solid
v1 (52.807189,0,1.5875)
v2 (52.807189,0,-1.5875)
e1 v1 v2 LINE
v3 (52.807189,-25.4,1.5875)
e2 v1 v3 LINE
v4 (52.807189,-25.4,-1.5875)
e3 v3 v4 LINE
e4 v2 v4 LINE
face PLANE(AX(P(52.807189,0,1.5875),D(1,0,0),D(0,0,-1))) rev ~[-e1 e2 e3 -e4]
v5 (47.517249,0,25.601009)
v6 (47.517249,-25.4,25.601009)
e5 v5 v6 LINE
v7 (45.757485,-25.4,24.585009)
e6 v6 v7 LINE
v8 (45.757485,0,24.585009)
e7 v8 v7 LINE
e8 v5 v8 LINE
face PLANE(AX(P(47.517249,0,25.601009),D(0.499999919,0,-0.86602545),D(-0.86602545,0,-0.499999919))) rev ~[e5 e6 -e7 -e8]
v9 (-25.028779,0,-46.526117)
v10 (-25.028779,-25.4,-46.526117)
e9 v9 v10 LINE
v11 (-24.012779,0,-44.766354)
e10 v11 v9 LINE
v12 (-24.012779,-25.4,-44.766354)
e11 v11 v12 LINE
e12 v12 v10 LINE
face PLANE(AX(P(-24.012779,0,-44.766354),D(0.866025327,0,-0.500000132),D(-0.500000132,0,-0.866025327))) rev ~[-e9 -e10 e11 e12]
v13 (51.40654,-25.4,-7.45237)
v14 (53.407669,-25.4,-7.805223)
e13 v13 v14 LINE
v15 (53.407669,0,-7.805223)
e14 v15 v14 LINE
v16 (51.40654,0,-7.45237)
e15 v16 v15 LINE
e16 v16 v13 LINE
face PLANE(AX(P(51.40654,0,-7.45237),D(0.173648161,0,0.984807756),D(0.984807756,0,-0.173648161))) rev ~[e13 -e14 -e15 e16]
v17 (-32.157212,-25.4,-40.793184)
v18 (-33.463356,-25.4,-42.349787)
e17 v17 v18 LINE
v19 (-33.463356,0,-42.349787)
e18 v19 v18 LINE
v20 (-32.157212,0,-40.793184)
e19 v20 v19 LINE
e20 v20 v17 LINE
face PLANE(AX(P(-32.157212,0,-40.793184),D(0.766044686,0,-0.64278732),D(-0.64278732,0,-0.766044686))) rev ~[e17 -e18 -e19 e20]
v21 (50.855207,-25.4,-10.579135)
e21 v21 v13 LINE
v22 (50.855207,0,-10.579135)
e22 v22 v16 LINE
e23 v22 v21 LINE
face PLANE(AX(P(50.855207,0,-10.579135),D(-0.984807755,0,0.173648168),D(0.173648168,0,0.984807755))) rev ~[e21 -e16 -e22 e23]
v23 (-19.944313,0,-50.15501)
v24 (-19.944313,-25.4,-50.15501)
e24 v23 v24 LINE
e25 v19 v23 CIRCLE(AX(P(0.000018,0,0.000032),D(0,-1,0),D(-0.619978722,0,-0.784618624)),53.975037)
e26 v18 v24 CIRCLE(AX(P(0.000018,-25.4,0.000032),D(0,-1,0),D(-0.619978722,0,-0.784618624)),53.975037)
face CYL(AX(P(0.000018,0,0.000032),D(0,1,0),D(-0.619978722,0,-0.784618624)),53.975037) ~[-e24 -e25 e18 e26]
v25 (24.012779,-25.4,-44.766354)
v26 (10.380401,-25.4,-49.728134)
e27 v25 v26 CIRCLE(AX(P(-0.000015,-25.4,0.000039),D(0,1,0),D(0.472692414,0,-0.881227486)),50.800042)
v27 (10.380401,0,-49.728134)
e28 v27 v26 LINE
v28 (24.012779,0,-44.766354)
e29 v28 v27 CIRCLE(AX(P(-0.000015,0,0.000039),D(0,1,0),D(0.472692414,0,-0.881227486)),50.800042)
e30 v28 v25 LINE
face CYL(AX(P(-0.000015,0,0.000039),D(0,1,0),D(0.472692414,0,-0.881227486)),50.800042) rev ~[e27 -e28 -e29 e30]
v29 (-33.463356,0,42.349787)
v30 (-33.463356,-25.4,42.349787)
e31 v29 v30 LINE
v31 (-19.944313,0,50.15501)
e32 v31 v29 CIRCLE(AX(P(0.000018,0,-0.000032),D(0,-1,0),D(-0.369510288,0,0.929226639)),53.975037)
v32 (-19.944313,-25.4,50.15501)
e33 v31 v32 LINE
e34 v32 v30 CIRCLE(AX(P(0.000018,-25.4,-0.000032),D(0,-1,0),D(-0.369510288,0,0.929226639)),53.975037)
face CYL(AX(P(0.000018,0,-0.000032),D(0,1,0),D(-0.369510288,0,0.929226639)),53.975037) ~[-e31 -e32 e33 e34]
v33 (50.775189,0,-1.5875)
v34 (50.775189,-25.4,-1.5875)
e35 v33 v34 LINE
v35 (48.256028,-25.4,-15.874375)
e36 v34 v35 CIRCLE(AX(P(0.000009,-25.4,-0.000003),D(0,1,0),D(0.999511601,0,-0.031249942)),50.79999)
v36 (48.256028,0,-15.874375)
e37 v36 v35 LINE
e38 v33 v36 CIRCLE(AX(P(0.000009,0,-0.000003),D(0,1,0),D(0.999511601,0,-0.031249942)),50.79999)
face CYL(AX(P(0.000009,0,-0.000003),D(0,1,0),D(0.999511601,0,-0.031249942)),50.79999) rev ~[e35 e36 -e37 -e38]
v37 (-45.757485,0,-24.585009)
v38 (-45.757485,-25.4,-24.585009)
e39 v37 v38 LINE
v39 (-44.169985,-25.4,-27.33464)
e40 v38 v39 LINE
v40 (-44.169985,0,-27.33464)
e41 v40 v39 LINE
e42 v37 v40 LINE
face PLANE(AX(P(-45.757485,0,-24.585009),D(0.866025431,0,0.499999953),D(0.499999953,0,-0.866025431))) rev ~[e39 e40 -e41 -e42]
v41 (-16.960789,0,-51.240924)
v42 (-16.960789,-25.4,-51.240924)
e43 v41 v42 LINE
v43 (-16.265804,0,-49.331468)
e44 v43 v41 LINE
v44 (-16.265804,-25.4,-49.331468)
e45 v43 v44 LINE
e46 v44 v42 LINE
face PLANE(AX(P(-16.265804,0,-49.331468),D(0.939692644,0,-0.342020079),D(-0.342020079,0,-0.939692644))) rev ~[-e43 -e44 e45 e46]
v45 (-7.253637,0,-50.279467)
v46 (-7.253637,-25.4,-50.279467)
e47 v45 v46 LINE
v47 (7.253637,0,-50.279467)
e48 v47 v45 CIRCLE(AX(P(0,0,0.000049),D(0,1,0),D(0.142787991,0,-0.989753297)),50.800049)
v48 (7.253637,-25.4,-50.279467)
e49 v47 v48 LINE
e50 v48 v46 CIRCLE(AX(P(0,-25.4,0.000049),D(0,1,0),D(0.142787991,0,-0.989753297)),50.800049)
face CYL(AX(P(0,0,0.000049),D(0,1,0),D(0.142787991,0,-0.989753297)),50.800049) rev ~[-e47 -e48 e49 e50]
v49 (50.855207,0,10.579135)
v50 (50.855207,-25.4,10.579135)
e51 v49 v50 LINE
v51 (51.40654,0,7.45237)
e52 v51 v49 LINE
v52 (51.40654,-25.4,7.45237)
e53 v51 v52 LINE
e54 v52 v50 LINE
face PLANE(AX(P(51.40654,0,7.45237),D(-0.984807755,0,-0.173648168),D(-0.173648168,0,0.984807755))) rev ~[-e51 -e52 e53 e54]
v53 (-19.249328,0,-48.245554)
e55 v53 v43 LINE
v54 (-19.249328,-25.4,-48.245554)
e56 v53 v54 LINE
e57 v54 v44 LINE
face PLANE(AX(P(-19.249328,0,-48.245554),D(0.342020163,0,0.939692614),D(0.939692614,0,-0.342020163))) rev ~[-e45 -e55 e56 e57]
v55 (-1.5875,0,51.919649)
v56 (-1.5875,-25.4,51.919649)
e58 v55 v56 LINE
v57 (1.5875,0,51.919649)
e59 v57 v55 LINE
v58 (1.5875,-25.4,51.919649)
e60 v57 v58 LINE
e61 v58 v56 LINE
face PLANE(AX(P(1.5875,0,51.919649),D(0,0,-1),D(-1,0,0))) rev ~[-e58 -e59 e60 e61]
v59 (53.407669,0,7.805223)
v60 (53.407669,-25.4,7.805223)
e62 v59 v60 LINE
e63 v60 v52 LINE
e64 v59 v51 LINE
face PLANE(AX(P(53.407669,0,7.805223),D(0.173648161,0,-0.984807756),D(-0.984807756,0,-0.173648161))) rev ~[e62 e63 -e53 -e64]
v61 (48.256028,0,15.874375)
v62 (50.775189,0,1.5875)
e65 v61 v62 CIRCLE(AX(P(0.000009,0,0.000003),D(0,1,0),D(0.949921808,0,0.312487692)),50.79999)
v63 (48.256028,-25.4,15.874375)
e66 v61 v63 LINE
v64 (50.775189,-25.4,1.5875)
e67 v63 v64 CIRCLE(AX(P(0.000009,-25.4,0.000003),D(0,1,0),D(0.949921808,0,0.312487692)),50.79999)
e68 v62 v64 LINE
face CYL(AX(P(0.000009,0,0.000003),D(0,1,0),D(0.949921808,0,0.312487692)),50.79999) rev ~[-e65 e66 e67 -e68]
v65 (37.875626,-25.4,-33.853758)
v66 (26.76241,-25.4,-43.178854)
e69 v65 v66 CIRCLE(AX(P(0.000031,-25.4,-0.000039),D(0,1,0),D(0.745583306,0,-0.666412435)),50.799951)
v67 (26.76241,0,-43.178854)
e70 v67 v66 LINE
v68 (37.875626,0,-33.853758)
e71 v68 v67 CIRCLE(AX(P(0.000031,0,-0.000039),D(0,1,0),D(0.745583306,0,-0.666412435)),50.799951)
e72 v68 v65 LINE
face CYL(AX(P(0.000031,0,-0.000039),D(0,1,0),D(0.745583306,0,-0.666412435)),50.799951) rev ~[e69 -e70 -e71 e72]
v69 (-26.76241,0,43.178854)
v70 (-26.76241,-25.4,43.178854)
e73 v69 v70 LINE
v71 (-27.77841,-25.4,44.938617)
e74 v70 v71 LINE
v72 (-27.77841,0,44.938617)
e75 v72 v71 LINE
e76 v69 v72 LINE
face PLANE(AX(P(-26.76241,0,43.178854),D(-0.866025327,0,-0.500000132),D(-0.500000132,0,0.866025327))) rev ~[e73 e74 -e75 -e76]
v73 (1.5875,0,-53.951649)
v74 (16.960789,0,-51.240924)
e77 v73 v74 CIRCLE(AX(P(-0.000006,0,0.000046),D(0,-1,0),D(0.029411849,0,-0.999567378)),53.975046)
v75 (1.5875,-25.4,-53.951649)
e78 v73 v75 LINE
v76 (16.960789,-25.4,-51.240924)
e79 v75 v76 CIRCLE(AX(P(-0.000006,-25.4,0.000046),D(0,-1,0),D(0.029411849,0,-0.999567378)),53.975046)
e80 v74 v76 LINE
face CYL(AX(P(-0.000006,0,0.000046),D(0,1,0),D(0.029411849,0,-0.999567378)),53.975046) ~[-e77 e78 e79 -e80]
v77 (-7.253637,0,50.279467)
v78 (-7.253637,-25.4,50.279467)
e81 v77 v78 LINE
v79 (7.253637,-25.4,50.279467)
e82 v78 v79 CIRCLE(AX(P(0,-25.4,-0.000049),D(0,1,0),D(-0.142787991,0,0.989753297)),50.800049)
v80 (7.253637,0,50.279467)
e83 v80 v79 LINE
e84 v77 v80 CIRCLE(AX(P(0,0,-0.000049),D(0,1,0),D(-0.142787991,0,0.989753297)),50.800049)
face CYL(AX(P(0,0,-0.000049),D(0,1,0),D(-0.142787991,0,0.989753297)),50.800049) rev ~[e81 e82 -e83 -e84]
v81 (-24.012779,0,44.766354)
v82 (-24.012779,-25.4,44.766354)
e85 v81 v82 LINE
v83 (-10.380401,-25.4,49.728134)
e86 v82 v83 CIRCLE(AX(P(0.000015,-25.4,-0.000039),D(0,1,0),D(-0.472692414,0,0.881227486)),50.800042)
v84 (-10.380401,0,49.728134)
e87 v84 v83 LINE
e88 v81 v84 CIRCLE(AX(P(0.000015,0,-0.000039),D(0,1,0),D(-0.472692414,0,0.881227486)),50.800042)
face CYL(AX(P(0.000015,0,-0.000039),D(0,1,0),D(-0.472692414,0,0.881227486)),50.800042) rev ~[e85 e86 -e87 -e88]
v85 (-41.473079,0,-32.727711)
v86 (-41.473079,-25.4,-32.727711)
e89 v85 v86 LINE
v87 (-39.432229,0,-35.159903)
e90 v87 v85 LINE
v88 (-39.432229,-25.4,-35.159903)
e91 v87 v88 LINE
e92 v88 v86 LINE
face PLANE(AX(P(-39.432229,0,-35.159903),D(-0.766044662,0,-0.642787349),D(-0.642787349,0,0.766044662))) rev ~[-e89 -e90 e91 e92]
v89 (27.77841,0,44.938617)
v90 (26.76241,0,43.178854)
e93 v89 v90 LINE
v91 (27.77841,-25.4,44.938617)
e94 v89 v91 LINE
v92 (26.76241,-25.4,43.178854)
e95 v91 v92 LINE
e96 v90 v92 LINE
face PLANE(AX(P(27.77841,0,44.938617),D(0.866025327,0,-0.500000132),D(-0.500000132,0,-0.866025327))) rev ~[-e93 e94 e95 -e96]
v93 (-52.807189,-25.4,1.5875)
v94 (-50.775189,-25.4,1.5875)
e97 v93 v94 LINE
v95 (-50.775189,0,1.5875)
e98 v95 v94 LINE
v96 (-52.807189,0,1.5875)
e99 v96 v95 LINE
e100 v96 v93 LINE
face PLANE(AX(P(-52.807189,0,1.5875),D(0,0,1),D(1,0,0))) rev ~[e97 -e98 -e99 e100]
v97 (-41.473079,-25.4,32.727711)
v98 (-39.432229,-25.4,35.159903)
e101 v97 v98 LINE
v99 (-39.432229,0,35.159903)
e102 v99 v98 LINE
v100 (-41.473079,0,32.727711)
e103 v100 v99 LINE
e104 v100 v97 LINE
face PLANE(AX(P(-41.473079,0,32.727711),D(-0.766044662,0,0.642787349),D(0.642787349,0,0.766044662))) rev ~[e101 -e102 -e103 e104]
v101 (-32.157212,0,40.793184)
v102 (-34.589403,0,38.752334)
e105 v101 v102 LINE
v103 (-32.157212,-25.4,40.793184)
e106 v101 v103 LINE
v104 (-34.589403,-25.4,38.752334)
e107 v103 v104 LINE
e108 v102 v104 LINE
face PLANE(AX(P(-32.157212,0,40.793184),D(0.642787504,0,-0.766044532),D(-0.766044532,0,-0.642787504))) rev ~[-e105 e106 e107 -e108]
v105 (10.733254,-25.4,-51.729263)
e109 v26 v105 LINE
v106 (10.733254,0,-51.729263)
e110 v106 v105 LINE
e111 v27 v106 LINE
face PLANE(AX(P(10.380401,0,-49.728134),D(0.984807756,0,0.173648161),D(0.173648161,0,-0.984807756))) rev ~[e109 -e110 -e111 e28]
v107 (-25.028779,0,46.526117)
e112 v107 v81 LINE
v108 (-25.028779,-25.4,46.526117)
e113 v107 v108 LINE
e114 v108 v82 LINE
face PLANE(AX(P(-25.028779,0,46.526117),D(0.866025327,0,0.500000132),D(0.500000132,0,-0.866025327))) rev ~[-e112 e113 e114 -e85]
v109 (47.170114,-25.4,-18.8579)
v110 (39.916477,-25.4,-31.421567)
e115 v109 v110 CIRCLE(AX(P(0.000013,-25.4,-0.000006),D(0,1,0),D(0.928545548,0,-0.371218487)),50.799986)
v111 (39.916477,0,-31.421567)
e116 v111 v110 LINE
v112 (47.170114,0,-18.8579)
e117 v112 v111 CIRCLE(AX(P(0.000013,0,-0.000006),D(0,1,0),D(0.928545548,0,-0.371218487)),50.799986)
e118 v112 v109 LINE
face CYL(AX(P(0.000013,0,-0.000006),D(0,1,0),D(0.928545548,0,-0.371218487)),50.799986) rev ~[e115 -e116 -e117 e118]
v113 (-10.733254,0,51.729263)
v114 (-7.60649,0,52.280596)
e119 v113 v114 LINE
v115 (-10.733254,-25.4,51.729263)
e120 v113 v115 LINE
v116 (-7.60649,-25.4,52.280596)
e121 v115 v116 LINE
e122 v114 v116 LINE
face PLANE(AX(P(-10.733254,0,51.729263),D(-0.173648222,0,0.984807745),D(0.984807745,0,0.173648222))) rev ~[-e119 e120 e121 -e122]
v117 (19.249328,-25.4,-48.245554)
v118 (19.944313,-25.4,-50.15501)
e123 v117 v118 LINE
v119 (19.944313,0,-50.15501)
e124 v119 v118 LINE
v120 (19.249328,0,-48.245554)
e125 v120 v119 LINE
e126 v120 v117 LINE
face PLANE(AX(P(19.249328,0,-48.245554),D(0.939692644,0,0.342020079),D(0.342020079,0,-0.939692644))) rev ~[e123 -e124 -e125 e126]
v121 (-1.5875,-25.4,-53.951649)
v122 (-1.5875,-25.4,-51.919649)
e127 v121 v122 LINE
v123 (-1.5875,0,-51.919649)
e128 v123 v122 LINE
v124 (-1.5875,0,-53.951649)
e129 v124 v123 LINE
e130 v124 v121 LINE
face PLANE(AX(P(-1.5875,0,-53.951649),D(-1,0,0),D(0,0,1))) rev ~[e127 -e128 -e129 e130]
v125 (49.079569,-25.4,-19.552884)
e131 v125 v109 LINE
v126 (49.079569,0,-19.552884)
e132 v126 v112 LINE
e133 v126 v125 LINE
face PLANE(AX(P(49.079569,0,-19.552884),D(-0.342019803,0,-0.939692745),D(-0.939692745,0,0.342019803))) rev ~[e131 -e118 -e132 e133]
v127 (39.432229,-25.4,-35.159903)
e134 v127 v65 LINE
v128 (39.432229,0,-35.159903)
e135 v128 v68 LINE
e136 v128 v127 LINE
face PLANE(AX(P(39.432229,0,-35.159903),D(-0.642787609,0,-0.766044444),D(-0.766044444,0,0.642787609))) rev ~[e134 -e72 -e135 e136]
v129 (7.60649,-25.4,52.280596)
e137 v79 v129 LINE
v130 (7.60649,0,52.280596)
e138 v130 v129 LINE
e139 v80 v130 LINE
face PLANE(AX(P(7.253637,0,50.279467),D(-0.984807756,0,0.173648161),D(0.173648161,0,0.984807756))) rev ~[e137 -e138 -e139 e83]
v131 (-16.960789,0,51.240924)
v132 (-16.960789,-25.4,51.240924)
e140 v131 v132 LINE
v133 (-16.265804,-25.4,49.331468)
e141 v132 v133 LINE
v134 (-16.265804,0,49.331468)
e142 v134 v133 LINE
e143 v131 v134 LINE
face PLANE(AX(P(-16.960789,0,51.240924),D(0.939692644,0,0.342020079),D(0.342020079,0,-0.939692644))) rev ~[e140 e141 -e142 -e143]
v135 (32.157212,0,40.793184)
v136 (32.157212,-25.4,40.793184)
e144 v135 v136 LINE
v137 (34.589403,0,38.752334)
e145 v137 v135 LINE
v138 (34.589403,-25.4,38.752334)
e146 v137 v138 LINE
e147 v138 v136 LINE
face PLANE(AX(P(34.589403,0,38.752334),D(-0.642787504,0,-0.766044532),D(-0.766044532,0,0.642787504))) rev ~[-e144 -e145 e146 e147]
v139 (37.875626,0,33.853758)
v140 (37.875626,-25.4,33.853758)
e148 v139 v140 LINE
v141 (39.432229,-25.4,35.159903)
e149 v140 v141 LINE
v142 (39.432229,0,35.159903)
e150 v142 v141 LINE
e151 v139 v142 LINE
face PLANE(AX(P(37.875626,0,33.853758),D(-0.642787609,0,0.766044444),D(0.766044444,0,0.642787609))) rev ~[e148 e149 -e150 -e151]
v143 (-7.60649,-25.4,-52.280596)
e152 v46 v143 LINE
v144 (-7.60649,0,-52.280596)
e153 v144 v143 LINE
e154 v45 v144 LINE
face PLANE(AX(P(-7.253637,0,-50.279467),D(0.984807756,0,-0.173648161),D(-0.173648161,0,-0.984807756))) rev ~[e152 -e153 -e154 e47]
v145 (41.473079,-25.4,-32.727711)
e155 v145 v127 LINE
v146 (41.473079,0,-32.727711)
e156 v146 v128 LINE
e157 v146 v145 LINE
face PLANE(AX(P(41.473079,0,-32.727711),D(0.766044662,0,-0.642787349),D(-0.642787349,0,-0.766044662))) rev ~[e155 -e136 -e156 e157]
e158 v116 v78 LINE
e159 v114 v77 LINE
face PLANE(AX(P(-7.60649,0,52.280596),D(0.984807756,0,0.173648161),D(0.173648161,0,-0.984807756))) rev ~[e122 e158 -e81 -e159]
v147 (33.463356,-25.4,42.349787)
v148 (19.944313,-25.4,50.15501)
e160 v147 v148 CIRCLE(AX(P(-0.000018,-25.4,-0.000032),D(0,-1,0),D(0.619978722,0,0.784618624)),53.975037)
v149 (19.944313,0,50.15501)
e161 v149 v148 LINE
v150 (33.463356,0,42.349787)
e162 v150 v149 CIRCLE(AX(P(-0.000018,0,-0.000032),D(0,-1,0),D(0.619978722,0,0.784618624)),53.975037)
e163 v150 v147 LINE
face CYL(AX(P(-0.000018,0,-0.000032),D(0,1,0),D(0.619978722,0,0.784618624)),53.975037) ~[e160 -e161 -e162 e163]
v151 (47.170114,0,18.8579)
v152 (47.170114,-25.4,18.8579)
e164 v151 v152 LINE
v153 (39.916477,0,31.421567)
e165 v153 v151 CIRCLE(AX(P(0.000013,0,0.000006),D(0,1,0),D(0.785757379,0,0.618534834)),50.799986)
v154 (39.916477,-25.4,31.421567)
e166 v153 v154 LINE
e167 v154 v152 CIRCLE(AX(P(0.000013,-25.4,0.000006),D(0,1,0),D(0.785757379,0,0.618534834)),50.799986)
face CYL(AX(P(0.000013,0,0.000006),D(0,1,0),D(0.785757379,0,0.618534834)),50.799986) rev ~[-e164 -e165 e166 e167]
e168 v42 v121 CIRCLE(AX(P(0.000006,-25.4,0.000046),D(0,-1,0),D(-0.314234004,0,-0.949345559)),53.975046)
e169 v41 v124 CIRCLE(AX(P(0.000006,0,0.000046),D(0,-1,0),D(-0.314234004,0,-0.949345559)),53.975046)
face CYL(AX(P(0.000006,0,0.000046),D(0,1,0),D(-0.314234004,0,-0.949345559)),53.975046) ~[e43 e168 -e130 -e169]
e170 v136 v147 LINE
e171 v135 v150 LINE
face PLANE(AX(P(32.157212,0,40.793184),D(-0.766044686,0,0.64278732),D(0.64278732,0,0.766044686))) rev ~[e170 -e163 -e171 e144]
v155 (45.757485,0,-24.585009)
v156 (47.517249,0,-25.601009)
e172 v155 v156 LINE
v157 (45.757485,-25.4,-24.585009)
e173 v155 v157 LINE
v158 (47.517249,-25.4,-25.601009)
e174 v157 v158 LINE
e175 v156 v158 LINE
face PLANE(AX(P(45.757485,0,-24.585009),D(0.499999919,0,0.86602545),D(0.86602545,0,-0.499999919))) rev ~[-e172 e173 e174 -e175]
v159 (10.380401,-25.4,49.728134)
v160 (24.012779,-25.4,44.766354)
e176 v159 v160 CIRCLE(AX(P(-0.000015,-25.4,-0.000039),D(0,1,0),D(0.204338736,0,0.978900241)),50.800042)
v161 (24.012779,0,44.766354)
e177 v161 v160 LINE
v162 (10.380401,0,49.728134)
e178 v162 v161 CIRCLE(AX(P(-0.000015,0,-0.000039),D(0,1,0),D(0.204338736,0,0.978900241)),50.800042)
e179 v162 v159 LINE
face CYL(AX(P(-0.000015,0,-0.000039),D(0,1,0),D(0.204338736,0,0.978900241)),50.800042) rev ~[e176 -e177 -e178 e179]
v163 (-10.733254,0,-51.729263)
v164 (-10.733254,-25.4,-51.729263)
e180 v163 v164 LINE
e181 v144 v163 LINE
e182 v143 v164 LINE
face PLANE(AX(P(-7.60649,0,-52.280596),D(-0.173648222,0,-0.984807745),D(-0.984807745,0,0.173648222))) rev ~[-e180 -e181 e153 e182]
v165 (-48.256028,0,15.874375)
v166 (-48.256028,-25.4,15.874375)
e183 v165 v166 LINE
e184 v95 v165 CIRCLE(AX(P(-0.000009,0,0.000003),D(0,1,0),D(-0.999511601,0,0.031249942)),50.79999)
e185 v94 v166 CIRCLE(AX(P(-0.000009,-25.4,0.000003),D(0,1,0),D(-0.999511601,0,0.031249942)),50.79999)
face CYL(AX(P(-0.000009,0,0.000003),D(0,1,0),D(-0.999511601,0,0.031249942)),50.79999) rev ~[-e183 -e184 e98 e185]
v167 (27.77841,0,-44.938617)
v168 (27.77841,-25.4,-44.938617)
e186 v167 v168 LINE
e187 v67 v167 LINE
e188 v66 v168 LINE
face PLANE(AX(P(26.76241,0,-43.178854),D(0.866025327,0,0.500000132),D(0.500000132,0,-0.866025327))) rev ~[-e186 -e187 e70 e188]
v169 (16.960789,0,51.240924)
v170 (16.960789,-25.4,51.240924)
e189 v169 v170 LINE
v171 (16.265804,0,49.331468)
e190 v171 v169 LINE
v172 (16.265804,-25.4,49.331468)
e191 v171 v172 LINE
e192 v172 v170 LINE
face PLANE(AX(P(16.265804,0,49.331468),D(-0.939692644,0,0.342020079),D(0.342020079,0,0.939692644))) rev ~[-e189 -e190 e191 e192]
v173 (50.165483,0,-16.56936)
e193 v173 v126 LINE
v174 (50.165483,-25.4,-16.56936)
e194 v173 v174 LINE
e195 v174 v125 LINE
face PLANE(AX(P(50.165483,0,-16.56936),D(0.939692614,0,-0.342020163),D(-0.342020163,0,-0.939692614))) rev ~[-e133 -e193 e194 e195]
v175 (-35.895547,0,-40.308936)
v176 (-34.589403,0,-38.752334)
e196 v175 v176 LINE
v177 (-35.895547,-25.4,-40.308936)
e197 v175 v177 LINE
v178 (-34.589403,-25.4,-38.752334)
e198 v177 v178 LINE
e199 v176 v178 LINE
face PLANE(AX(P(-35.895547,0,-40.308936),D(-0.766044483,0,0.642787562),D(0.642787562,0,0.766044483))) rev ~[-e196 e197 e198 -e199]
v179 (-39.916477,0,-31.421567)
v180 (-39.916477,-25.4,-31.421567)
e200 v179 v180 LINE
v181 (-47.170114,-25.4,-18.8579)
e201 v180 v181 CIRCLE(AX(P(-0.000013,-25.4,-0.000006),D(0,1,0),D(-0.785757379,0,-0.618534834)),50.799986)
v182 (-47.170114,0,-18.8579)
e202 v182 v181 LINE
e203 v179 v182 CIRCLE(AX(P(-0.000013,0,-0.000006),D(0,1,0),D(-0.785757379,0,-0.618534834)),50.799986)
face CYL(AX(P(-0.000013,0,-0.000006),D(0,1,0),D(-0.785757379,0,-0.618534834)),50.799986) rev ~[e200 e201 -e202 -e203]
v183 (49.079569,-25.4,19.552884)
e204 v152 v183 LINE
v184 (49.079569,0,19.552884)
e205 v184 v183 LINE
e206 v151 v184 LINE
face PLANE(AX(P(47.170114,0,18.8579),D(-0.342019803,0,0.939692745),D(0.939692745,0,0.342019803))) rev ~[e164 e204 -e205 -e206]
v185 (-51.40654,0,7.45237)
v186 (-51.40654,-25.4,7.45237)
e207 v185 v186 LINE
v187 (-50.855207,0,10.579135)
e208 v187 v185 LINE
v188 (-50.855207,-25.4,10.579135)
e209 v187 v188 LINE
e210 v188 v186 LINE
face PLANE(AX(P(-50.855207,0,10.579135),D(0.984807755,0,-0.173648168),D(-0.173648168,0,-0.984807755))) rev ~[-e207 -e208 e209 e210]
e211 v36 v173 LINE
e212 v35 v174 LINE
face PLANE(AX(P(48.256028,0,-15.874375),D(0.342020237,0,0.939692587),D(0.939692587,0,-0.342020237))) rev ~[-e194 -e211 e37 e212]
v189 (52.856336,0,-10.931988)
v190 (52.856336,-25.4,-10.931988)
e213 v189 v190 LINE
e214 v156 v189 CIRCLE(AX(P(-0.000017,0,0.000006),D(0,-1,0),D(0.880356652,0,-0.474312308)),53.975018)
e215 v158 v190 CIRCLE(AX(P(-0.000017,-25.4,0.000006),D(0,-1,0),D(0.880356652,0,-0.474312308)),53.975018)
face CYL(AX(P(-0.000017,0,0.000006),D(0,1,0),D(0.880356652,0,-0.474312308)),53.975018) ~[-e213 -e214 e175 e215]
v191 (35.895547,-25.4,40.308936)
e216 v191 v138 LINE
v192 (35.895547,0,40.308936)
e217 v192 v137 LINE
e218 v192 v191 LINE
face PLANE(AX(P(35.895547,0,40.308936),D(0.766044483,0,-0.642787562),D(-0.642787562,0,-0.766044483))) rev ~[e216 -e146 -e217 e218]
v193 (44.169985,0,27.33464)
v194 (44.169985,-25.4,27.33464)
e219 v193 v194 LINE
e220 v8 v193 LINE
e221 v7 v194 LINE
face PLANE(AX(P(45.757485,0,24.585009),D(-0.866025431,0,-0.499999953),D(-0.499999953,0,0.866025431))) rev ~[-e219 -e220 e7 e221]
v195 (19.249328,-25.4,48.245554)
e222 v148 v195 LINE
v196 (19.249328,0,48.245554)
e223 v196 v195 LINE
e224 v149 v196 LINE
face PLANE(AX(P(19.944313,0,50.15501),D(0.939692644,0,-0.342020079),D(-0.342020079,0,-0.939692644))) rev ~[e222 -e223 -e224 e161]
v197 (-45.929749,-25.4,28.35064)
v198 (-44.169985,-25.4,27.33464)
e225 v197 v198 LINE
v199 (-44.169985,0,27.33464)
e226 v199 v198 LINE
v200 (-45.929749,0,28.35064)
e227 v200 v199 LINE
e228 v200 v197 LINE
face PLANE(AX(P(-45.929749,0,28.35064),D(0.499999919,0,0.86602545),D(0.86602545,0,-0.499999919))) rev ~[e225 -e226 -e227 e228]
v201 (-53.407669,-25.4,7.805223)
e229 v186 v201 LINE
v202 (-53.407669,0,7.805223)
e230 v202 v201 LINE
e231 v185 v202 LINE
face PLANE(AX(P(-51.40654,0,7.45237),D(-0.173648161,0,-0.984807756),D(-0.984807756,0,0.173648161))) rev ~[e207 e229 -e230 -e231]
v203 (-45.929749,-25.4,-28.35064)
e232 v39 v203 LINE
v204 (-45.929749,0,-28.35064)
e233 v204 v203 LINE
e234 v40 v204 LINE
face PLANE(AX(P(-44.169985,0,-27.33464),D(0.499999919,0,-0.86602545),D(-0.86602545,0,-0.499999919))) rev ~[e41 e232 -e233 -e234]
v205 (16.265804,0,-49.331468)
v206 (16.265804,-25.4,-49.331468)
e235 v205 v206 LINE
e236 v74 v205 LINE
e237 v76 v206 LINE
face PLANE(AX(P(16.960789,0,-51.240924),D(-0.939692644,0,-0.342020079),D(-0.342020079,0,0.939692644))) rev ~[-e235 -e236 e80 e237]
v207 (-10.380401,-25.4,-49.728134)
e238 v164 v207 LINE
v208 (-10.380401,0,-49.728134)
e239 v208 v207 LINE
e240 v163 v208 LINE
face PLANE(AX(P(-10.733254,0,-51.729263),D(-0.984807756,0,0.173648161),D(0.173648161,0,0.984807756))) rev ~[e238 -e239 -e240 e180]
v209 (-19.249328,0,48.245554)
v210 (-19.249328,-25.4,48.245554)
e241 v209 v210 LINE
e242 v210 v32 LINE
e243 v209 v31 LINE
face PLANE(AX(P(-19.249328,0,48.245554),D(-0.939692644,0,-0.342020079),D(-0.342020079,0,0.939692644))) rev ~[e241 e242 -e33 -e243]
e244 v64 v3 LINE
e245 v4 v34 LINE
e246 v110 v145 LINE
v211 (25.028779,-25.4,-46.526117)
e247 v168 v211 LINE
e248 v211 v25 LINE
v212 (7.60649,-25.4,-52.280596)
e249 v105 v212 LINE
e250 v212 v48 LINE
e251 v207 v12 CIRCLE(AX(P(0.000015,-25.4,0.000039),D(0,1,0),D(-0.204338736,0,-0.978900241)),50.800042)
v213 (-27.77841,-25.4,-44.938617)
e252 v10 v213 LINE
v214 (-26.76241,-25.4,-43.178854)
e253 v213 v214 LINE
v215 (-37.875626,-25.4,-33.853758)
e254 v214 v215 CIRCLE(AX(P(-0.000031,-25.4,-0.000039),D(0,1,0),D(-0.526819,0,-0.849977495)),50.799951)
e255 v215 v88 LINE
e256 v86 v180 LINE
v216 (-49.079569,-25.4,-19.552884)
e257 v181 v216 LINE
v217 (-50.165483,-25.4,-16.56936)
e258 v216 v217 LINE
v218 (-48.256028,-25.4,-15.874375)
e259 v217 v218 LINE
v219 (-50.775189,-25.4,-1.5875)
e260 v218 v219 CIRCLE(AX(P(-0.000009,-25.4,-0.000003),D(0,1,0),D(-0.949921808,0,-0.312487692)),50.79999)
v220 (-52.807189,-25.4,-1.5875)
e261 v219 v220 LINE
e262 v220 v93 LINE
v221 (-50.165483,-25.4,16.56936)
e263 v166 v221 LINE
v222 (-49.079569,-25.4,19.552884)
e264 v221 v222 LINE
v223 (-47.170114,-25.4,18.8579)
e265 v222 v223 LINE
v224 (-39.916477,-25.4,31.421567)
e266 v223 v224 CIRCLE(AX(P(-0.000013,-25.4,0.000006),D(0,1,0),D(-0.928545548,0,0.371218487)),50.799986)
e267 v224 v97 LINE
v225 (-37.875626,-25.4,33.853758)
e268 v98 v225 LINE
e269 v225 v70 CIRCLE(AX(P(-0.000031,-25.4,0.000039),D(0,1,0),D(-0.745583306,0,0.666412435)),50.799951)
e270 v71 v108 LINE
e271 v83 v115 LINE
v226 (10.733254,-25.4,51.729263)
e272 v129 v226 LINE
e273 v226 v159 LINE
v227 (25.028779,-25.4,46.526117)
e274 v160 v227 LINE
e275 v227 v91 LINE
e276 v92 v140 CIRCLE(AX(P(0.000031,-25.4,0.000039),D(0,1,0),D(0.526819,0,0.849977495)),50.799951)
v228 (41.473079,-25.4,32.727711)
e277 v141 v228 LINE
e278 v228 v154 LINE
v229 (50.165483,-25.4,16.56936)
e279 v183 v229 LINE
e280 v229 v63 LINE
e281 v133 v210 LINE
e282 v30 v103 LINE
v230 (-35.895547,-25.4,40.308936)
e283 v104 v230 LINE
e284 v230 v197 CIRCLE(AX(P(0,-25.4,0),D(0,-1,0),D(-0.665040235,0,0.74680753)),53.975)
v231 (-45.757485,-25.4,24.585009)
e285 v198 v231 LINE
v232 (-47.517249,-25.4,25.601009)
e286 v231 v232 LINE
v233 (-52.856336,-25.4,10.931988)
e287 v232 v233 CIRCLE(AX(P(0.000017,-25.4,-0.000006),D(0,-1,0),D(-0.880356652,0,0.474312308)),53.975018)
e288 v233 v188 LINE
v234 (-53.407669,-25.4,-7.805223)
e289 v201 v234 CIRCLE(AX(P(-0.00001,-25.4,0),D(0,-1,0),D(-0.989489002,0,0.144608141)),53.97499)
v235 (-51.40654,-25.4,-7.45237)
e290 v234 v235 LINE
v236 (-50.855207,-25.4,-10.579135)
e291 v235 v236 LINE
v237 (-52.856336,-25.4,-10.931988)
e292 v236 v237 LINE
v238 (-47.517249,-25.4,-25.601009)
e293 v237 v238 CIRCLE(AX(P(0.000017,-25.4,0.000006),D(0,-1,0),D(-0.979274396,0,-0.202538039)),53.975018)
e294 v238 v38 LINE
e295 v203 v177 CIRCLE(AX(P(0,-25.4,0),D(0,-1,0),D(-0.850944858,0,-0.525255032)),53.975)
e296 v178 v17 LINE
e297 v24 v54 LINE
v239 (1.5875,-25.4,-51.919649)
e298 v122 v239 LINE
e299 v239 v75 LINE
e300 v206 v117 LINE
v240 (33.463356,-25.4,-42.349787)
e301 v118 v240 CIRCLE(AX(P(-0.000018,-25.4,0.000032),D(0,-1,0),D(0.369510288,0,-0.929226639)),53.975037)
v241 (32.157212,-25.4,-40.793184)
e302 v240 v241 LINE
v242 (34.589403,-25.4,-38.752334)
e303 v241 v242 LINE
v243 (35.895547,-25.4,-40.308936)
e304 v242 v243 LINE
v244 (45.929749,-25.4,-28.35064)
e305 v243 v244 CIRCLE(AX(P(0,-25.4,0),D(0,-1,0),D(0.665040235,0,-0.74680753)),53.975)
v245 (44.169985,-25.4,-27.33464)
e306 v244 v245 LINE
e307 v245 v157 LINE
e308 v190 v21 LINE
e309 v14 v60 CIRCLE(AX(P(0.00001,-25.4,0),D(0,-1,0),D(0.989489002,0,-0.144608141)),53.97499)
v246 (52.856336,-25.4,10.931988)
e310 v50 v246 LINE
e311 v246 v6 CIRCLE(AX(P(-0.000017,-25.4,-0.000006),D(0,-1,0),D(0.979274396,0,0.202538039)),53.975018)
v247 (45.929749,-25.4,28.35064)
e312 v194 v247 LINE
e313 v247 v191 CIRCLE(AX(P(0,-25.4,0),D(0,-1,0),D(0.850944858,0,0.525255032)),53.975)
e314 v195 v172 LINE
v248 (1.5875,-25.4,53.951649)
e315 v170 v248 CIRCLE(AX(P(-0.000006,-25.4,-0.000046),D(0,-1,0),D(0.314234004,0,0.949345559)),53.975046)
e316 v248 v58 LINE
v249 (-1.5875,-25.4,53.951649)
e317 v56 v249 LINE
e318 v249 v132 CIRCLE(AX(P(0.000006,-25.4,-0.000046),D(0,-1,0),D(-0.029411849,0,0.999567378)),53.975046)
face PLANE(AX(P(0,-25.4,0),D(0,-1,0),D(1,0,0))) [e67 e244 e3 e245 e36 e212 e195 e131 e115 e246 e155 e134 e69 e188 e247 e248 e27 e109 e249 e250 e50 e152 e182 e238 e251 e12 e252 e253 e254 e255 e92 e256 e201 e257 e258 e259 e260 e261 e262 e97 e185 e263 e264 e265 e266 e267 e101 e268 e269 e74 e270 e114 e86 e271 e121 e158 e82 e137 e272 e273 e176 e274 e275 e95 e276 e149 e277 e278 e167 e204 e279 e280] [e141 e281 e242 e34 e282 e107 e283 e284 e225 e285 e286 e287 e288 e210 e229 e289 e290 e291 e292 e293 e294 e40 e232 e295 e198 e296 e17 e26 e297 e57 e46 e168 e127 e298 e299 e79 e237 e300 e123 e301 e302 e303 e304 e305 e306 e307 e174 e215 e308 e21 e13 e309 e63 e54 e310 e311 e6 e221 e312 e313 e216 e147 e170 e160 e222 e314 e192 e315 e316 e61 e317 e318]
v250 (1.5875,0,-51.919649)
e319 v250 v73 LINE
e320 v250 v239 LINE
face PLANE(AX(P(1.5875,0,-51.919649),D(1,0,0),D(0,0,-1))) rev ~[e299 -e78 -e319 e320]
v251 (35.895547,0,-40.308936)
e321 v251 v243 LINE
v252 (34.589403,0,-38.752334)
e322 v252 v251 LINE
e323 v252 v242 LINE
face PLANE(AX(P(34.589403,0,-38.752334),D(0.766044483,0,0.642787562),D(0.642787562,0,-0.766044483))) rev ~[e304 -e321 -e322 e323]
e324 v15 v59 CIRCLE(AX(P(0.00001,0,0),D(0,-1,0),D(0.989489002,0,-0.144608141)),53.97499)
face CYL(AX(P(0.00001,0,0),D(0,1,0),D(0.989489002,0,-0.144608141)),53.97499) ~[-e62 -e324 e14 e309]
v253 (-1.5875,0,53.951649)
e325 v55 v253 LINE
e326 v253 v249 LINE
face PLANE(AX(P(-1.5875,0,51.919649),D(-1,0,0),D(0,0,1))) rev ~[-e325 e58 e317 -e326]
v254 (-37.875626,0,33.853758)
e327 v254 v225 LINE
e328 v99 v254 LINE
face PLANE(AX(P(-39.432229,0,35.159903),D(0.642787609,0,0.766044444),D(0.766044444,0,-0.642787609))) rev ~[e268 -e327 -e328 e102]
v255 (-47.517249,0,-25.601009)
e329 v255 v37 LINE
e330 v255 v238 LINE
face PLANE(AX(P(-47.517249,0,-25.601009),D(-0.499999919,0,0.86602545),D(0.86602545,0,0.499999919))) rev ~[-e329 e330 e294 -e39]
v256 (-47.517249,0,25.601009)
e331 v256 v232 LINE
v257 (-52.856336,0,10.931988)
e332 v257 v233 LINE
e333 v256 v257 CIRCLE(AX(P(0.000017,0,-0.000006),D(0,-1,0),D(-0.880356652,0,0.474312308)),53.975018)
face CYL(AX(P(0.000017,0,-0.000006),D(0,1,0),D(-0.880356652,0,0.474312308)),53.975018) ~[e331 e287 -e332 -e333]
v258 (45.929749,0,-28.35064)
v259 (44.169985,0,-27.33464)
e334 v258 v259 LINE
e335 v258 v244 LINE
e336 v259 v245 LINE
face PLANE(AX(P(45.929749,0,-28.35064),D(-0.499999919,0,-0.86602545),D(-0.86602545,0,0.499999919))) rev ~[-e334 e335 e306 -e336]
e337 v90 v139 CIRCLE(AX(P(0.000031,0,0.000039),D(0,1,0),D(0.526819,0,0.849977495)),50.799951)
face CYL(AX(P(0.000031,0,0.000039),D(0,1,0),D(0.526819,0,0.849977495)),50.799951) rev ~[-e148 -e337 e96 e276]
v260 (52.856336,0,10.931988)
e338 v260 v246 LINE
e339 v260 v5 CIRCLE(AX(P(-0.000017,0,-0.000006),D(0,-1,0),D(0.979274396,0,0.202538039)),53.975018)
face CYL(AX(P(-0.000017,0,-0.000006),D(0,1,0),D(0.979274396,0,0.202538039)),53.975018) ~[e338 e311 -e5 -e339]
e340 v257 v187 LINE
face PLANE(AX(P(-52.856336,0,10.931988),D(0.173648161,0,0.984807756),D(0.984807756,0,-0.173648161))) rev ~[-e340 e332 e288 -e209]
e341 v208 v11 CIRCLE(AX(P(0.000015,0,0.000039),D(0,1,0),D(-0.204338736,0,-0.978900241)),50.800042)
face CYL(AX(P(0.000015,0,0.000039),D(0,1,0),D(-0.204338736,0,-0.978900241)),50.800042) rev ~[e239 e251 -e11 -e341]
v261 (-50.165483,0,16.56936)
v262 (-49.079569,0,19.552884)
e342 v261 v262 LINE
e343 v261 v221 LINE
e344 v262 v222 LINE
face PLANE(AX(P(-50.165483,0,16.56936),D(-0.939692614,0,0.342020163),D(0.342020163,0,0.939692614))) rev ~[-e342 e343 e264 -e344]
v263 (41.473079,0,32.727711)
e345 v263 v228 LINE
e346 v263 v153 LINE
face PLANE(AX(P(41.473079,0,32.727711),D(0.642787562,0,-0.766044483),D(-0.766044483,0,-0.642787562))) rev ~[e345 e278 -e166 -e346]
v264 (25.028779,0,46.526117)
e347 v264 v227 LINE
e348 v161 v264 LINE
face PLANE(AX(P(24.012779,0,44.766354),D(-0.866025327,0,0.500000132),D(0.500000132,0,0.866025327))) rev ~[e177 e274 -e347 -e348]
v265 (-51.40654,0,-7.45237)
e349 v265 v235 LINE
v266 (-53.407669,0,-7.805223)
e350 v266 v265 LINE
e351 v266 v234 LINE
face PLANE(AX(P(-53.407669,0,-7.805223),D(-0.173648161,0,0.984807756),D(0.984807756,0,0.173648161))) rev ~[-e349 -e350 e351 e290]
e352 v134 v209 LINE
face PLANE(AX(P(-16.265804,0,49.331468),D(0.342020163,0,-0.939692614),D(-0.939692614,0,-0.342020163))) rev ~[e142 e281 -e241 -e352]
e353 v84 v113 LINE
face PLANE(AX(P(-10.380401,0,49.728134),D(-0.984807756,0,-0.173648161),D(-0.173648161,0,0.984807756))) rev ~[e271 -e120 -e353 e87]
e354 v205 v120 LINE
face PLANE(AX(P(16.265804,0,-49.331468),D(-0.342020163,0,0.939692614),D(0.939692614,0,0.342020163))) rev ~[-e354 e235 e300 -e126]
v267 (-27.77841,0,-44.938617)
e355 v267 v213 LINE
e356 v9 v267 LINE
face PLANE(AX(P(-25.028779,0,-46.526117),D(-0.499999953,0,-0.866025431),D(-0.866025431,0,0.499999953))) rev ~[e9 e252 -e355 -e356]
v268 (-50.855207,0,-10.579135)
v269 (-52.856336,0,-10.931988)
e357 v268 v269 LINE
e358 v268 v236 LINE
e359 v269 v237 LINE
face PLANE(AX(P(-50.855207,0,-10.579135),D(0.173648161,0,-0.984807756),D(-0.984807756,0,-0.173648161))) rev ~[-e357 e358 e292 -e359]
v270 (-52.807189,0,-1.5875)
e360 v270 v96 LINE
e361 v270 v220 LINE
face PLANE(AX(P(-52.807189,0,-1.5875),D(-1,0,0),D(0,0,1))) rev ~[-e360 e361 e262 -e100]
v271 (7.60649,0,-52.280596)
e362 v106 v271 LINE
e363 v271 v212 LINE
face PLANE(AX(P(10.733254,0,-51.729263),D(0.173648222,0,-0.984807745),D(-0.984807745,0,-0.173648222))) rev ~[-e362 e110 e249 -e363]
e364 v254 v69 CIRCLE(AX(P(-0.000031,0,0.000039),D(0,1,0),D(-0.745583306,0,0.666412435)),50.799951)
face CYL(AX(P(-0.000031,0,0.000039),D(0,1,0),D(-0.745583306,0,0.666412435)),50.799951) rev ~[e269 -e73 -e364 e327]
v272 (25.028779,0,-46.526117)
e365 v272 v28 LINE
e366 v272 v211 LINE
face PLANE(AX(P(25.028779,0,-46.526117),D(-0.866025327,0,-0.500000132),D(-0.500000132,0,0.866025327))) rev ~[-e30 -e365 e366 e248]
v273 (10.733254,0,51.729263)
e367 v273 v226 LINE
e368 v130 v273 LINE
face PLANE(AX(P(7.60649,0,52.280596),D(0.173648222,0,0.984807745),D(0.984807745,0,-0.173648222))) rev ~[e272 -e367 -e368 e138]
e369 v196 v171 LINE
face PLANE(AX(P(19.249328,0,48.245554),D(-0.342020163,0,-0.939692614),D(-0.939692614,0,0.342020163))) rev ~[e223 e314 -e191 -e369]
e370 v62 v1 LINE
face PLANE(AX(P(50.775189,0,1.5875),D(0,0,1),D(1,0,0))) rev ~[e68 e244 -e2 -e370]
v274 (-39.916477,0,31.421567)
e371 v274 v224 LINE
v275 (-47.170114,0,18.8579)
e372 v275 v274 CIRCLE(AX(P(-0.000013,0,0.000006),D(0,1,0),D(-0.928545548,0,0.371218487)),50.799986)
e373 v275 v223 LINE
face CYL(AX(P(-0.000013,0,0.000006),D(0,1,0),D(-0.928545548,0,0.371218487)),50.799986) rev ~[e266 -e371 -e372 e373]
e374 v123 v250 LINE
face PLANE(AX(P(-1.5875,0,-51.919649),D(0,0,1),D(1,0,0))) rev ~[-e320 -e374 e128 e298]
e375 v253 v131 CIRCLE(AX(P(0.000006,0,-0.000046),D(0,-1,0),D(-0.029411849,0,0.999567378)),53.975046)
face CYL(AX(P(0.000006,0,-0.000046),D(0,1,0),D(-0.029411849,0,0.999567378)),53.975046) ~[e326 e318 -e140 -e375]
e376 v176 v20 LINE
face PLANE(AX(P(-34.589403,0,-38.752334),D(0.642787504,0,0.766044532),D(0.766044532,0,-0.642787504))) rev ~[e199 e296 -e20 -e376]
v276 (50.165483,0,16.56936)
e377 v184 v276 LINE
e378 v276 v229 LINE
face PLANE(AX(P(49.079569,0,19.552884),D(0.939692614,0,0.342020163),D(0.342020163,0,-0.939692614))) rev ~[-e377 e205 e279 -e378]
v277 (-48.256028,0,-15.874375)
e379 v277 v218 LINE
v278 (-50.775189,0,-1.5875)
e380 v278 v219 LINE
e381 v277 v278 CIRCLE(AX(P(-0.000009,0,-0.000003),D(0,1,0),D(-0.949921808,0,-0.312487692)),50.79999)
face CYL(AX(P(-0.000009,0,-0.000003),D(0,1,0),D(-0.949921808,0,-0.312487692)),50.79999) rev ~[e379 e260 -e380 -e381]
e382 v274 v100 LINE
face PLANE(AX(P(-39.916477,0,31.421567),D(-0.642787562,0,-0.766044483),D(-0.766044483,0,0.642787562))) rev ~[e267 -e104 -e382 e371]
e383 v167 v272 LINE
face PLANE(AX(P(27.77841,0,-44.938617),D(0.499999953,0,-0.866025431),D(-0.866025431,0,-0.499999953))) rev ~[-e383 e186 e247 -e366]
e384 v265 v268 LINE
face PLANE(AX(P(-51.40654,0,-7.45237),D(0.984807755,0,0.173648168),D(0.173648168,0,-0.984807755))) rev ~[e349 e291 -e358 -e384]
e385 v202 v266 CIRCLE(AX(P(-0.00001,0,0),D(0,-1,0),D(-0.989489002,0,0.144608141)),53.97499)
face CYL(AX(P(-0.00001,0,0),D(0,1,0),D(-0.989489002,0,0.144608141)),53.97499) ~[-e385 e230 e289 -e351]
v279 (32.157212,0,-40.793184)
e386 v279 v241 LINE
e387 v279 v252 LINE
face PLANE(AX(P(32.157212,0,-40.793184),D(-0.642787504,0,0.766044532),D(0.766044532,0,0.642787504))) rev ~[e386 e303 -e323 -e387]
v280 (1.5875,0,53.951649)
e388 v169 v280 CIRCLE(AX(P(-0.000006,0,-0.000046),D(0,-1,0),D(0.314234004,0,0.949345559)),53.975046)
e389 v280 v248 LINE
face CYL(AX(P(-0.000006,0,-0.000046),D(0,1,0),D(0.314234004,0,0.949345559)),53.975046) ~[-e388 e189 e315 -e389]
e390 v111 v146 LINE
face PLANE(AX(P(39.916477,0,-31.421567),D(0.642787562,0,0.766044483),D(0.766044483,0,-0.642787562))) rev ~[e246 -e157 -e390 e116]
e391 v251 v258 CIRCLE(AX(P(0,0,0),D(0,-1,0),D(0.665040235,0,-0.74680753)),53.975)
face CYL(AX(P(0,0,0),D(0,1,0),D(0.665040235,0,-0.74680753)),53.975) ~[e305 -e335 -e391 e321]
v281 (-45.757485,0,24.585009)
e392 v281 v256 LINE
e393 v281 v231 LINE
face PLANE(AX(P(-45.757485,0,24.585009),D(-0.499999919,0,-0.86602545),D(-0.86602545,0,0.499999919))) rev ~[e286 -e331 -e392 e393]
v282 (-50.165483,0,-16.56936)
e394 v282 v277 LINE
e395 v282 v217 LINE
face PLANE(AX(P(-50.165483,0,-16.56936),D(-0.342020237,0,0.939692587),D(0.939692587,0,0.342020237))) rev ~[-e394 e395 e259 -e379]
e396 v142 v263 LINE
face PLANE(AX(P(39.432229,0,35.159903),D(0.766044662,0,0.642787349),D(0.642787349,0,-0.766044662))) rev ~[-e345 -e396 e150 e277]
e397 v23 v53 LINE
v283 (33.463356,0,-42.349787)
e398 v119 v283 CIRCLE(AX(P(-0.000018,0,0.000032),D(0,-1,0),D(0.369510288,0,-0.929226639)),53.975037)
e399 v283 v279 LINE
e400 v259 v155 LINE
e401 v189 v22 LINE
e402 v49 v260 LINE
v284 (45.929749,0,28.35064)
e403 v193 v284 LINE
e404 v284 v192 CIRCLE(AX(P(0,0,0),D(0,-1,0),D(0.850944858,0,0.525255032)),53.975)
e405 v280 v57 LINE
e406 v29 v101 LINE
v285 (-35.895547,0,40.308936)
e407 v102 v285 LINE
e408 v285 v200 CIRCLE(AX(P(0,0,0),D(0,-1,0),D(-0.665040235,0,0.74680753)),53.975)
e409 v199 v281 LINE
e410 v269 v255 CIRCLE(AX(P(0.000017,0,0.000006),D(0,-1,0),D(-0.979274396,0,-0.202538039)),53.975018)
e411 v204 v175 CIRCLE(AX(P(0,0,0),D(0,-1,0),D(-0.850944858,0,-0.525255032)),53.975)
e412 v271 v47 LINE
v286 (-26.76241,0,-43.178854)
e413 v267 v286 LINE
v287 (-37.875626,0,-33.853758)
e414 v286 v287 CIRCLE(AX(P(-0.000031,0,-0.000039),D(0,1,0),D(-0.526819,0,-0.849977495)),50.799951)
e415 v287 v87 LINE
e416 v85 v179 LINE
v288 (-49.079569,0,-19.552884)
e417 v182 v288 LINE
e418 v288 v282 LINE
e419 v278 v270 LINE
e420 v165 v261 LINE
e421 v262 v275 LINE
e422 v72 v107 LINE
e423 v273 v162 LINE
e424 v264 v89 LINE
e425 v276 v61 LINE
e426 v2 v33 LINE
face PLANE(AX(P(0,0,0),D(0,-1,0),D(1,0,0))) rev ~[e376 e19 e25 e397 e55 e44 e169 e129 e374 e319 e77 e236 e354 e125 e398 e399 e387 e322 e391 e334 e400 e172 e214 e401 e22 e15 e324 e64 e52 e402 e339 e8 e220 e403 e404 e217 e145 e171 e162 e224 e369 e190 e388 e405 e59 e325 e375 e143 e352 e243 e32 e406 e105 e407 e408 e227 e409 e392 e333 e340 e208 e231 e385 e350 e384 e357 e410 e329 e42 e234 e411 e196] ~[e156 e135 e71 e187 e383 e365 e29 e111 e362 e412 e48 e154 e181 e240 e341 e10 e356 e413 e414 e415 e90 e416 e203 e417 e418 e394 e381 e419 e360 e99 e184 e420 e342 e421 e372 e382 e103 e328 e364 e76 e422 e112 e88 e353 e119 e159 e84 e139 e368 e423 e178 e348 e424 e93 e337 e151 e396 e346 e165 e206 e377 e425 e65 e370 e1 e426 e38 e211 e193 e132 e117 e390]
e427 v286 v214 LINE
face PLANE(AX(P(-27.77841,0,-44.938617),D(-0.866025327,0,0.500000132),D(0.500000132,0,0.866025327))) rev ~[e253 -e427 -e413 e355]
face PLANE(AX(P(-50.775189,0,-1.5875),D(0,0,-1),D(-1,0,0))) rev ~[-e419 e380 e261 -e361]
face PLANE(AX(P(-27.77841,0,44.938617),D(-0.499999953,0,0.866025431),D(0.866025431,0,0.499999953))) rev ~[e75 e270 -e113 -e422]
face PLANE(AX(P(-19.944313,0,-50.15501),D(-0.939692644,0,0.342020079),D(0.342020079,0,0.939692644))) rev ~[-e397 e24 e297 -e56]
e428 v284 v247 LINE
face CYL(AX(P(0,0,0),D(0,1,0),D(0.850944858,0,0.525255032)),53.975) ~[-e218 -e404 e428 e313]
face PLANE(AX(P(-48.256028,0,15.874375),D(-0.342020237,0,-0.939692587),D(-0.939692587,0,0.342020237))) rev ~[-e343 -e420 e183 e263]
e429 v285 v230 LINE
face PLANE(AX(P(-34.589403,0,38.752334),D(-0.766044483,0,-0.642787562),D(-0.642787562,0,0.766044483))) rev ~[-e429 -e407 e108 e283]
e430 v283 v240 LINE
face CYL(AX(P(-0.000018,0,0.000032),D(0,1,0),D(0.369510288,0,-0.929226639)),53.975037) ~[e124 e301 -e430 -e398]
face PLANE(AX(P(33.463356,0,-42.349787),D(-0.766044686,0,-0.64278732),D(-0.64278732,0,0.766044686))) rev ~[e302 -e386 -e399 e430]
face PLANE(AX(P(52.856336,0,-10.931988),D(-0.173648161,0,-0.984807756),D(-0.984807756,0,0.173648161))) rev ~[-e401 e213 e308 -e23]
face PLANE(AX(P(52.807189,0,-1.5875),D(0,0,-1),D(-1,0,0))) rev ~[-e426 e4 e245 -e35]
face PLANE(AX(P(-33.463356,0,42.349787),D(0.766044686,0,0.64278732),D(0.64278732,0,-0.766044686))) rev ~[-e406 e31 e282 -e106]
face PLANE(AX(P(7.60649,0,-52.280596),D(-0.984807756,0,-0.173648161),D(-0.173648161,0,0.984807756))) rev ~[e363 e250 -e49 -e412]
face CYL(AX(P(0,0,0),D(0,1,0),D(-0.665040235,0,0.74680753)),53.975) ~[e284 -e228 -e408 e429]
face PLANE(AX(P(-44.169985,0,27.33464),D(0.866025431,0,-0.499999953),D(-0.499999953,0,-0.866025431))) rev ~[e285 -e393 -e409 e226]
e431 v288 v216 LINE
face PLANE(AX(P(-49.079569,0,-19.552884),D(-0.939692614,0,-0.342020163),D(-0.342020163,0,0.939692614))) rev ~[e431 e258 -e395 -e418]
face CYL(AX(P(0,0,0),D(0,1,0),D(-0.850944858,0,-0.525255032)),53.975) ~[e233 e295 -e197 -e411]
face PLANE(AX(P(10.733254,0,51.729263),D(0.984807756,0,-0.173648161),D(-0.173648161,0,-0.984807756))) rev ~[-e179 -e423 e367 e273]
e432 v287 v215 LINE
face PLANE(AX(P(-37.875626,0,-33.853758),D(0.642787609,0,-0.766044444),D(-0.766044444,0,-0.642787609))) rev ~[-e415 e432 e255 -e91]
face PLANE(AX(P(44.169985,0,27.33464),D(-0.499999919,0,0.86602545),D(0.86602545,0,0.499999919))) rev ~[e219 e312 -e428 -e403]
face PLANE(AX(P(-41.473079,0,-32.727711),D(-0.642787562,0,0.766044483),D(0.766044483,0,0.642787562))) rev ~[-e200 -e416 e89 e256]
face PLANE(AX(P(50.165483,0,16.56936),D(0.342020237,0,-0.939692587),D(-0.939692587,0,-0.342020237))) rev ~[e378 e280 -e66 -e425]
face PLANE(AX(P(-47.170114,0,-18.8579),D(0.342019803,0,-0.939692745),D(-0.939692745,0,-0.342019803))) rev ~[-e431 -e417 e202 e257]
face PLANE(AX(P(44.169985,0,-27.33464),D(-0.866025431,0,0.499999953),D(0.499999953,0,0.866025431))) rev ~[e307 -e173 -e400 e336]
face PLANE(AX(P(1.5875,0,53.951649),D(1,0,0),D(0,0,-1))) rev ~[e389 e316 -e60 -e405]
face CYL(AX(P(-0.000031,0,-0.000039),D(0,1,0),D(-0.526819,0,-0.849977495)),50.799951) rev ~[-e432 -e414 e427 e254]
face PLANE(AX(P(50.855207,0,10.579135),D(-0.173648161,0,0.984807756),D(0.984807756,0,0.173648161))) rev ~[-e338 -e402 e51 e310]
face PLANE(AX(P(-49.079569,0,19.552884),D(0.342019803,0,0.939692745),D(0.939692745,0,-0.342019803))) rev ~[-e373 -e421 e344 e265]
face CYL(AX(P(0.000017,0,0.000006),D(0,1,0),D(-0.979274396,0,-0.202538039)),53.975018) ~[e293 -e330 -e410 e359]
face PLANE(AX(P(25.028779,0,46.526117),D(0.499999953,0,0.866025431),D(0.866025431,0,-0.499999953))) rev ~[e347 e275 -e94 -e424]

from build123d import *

# Parameters (mm, degrees)
F1_DEPTH = 25.4


with BuildPart() as f1:
    # F0 (on Front) → F1 (new body)
    with BuildSketch(Plane.XZ):
        with BuildLine():
            Line((-1.5875, 51.919649), (-1.5875, 53.951649))
            ThreePointArc((-1.5875, 53.951649), (-9.37266, 53.154998), (-16.960789, 51.240924))
            Line((-16.960789, 51.240924), (-16.265804, 49.331468))
            Line((-16.265804, 49.331468), (-19.249328, 48.245554))
            Line((-19.249328, 48.245554), (-19.944313, 50.15501))
            ThreePointArc((-19.944313, 50.15501), (-26.9875, 46.743721), (-33.463356, 42.349787))
            Line((-33.463356, 42.349787), (-32.157212, 40.793184))
            Line((-32.157212, 40.793184), (-34.589403, 38.752334))
            Line((-34.589403, 38.752334), (-35.895547, 40.308936))
            ThreePointArc((-35.895547, 40.308936), (-41.347249, 34.694461), (-45.929749, 28.35064))
            Line((-45.929749, 28.35064), (-44.169985, 27.33464))
            Line((-44.169985, 27.33464), (-45.757485, 24.585009))
            Line((-45.757485, 24.585009), (-47.517249, 25.601009))
            ThreePointArc((-47.517249, 25.601009), (-50.719909, 18.460537), (-52.856336, 10.931988))
            Line((-52.856336, 10.931988), (-50.855207, 10.579135))
            Line((-50.855207, 10.579135), (-51.40654, 7.45237))
            Line((-51.40654, 7.45237), (-53.407669, 7.805223))
            ThreePointArc((-53.407669, 7.805223), (-53.975, 0), (-53.407669, -7.805223))
            Line((-53.407669, -7.805223), (-51.40654, -7.45237))
            Line((-51.40654, -7.45237), (-50.855207, -10.579135))
            Line((-50.855207, -10.579135), (-52.856336, -10.931988))
            ThreePointArc((-52.856336, -10.931988), (-50.719909, -18.460537), (-47.517249, -25.601009))
            Line((-47.517249, -25.601009), (-45.757485, -24.585009))
            Line((-45.757485, -24.585009), (-44.169985, -27.33464))
            Line((-44.169985, -27.33464), (-45.929749, -28.35064))
            ThreePointArc((-45.929749, -28.35064), (-41.347249, -34.694461), (-35.895547, -40.308936))
            Line((-35.895547, -40.308936), (-34.589403, -38.752334))
            Line((-34.589403, -38.752334), (-32.157212, -40.793184))
            Line((-32.157212, -40.793184), (-33.463356, -42.349787))
            ThreePointArc((-33.463356, -42.349787), (-26.9875, -46.743721), (-19.944313, -50.15501))
            Line((-19.944313, -50.15501), (-19.249328, -48.245554))
            Line((-19.249328, -48.245554), (-16.265804, -49.331468))
            Line((-16.265804, -49.331468), (-16.960789, -51.240924))
            ThreePointArc((-16.960789, -51.240924), (-9.37266, -53.154998), (-1.5875, -53.951649))
            Line((-1.5875, -53.951649), (-1.5875, -51.919649))
            Line((-1.5875, -51.919649), (1.5875, -51.919649))
            Line((1.5875, -51.919649), (1.5875, -53.951649))
            ThreePointArc((1.5875, -53.951649), (9.37266, -53.154998), (16.960789, -51.240924))
            Line((16.960789, -51.240924), (16.265804, -49.331468))
            Line((16.265804, -49.331468), (19.249328, -48.245554))
            Line((19.249328, -48.245554), (19.944313, -50.15501))
            ThreePointArc((19.944313, -50.15501), (26.9875, -46.743721), (33.463356, -42.349787))
            Line((33.463356, -42.349787), (32.157212, -40.793184))
            Line((32.157212, -40.793184), (34.589403, -38.752334))
            Line((34.589403, -38.752334), (35.895547, -40.308936))
            ThreePointArc((35.895547, -40.308936), (41.347249, -34.694461), (45.929749, -28.35064))
            Line((45.929749, -28.35064), (44.169985, -27.33464))
            Line((44.169985, -27.33464), (45.757485, -24.585009))
            Line((45.757485, -24.585009), (47.517249, -25.601009))
            ThreePointArc((47.517249, -25.601009), (50.719909, -18.460537), (52.856336, -10.931988))
            Line((52.856336, -10.931988), (50.855207, -10.579135))
            Line((50.855207, -10.579135), (51.40654, -7.45237))
            Line((51.40654, -7.45237), (53.407669, -7.805223))
            ThreePointArc((53.407669, -7.805223), (53.975, 0), (53.407669, 7.805223))
            Line((53.407669, 7.805223), (51.40654, 7.45237))
            Line((51.40654, 7.45237), (50.855207, 10.579135))
            Line((50.855207, 10.579135), (52.856336, 10.931988))
            ThreePointArc((52.856336, 10.931988), (50.719909, 18.460537), (47.517249, 25.601009))
            Line((47.517249, 25.601009), (45.757485, 24.585009))
            Line((45.757485, 24.585009), (44.169985, 27.33464))
            Line((44.169985, 27.33464), (45.929749, 28.35064))
            ThreePointArc((45.929749, 28.35064), (41.347249, 34.694461), (35.895547, 40.308936))
            Line((35.895547, 40.308936), (34.589403, 38.752334))
            Line((34.589403, 38.752334), (32.157212, 40.793184))
            Line((32.157212, 40.793184), (33.463356, 42.349787))
            ThreePointArc((33.463356, 42.349787), (26.9875, 46.743721), (19.944313, 50.15501))
            Line((19.944313, 50.15501), (19.249328, 48.245554))
            Line((19.249328, 48.245554), (16.265804, 49.331468))
            Line((16.265804, 49.331468), (16.960789, 51.240924))
            ThreePointArc((16.960789, 51.240924), (9.37266, 53.154998), (1.5875, 53.951649))
            Line((1.5875, 53.951649), (1.5875, 51.919649))
            Line((1.5875, 51.919649), (-1.5875, 51.919649))
        make_face()
        with BuildLine():
            ThreePointArc((-48.256028, -15.874375), (-50.028234, -8.821327), (-50.775189, -1.5875))
            Line((-50.775189, -1.5875), (-52.807189, -1.5875))
            Line((-52.807189, -1.5875), (-52.807189, 1.5875))
            Line((-52.807189, 1.5875), (-50.775189, 1.5875))
            ThreePointArc((-50.775189, 1.5875), (-50.028234, 8.821327), (-48.256028, 15.874375))
            Line((-48.256028, 15.874375), (-50.165483, 16.56936))
            Line((-50.165483, 16.56936), (-49.079569, 19.552884))
            Line((-49.079569, 19.552884), (-47.170114, 18.8579))
            ThreePointArc((-47.170114, 18.8579), (-43.994091, 25.4), (-39.916477, 31.421567))
            Line((-39.916477, 31.421567), (-41.473079, 32.727711))
            Line((-41.473079, 32.727711), (-39.432229, 35.159903))
            Line((-39.432229, 35.159903), (-37.875626, 33.853758))
            ThreePointArc((-37.875626, 33.853758), (-32.653611, 38.915058), (-26.76241, 43.178854))
            Line((-26.76241, 43.178854), (-27.77841, 44.938617))
            Line((-27.77841, 44.938617), (-25.028779, 46.526117))
            Line((-25.028779, 46.526117), (-24.012779, 44.766354))
            ThreePointArc((-24.012779, 44.766354), (-17.374623, 47.736385), (-10.380401, 49.728134))
            Line((-10.380401, 49.728134), (-10.733254, 51.729263))
            Line((-10.733254, 51.729263), (-7.60649, 52.280596))
            Line((-7.60649, 52.280596), (-7.253637, 50.279467))
            ThreePointArc((-7.253637, 50.279467), (0, 50.8), (7.253637, 50.279467))
            Line((7.253637, 50.279467), (7.60649, 52.280596))
            Line((7.60649, 52.280596), (10.733254, 51.729263))
            Line((10.733254, 51.729263), (10.380401, 49.728134))
            ThreePointArc((10.380401, 49.728134), (17.374623, 47.736385), (24.012779, 44.766354))
            Line((24.012779, 44.766354), (25.028779, 46.526117))
            Line((25.028779, 46.526117), (27.77841, 44.938617))
            Line((27.77841, 44.938617), (26.76241, 43.178854))
            ThreePointArc((26.76241, 43.178854), (32.653611, 38.915058), (37.875626, 33.853758))
            Line((37.875626, 33.853758), (39.432229, 35.159903))
            Line((39.432229, 35.159903), (41.473079, 32.727711))
            Line((41.473079, 32.727711), (39.916477, 31.421567))
            ThreePointArc((39.916477, 31.421567), (43.994091, 25.4), (47.170114, 18.8579))
            Line((47.170114, 18.8579), (49.079569, 19.552884))
            Line((49.079569, 19.552884), (50.165483, 16.56936))
            Line((50.165483, 16.56936), (48.256028, 15.874375))
            ThreePointArc((48.256028, 15.874375), (50.028234, 8.821327), (50.775189, 1.5875))
            Line((50.775189, 1.5875), (52.807189, 1.5875))
            Line((52.807189, 1.5875), (52.807189, -1.5875))
            Line((52.807189, -1.5875), (50.775189, -1.5875))
            ThreePointArc((50.775189, -1.5875), (50.028234, -8.821327), (48.256028, -15.874375))
            Line((48.256028, -15.874375), (50.165483, -16.56936))
            Line((50.165483, -16.56936), (49.079569, -19.552884))
            Line((49.079569, -19.552884), (47.170114, -18.8579))
            ThreePointArc((47.170114, -18.8579), (43.994091, -25.4), (39.916477, -31.421567))
            Line((39.916477, -31.421567), (41.473079, -32.727711))
            Line((41.473079, -32.727711), (39.432229, -35.159903))
            Line((39.432229, -35.159903), (37.875626, -33.853758))
            ThreePointArc((37.875626, -33.853758), (32.653611, -38.915058), (26.76241, -43.178854))
            Line((26.76241, -43.178854), (27.77841, -44.938617))
            Line((27.77841, -44.938617), (25.028779, -46.526117))
            Line((25.028779, -46.526117), (24.012779, -44.766354))
            ThreePointArc((24.012779, -44.766354), (17.374623, -47.736385), (10.380401, -49.728134))
            Line((10.380401, -49.728134), (10.733254, -51.729263))
            Line((10.733254, -51.729263), (7.60649, -52.280596))
            Line((7.60649, -52.280596), (7.253637, -50.279467))
            ThreePointArc((7.253637, -50.279467), (0, -50.8), (-7.253637, -50.279467))
            Line((-7.253637, -50.279467), (-7.60649, -52.280596))
            Line((-7.60649, -52.280596), (-10.733254, -51.729263))
            Line((-10.733254, -51.729263), (-10.380401, -49.728134))
            ThreePointArc((-10.380401, -49.728134), (-17.374623, -47.736385), (-24.012779, -44.766354))
            Line((-24.012779, -44.766354), (-25.028779, -46.526117))
            Line((-25.028779, -46.526117), (-27.77841, -44.938617))
            Line((-27.77841, -44.938617), (-26.76241, -43.178854))
            ThreePointArc((-26.76241, -43.178854), (-32.653611, -38.915058), (-37.875626, -33.853758))
            Line((-37.875626, -33.853758), (-39.432229, -35.159903))
            Line((-39.432229, -35.159903), (-41.473079, -32.727711))
            Line((-41.473079, -32.727711), (-39.916477, -31.421567))
            ThreePointArc((-39.916477, -31.421567), (-43.994091, -25.4), (-47.170114, -18.8579))
            Line((-47.170114, -18.8579), (-49.079569, -19.552884))
            Line((-49.079569, -19.552884), (-50.165483, -16.56936))
            Line((-50.165483, -16.56936), (-48.256028, -15.874375))
        make_face(mode=Mode.SUBTRACT)
    extrude(amount=F1_DEPTH)


solid = f1.part
